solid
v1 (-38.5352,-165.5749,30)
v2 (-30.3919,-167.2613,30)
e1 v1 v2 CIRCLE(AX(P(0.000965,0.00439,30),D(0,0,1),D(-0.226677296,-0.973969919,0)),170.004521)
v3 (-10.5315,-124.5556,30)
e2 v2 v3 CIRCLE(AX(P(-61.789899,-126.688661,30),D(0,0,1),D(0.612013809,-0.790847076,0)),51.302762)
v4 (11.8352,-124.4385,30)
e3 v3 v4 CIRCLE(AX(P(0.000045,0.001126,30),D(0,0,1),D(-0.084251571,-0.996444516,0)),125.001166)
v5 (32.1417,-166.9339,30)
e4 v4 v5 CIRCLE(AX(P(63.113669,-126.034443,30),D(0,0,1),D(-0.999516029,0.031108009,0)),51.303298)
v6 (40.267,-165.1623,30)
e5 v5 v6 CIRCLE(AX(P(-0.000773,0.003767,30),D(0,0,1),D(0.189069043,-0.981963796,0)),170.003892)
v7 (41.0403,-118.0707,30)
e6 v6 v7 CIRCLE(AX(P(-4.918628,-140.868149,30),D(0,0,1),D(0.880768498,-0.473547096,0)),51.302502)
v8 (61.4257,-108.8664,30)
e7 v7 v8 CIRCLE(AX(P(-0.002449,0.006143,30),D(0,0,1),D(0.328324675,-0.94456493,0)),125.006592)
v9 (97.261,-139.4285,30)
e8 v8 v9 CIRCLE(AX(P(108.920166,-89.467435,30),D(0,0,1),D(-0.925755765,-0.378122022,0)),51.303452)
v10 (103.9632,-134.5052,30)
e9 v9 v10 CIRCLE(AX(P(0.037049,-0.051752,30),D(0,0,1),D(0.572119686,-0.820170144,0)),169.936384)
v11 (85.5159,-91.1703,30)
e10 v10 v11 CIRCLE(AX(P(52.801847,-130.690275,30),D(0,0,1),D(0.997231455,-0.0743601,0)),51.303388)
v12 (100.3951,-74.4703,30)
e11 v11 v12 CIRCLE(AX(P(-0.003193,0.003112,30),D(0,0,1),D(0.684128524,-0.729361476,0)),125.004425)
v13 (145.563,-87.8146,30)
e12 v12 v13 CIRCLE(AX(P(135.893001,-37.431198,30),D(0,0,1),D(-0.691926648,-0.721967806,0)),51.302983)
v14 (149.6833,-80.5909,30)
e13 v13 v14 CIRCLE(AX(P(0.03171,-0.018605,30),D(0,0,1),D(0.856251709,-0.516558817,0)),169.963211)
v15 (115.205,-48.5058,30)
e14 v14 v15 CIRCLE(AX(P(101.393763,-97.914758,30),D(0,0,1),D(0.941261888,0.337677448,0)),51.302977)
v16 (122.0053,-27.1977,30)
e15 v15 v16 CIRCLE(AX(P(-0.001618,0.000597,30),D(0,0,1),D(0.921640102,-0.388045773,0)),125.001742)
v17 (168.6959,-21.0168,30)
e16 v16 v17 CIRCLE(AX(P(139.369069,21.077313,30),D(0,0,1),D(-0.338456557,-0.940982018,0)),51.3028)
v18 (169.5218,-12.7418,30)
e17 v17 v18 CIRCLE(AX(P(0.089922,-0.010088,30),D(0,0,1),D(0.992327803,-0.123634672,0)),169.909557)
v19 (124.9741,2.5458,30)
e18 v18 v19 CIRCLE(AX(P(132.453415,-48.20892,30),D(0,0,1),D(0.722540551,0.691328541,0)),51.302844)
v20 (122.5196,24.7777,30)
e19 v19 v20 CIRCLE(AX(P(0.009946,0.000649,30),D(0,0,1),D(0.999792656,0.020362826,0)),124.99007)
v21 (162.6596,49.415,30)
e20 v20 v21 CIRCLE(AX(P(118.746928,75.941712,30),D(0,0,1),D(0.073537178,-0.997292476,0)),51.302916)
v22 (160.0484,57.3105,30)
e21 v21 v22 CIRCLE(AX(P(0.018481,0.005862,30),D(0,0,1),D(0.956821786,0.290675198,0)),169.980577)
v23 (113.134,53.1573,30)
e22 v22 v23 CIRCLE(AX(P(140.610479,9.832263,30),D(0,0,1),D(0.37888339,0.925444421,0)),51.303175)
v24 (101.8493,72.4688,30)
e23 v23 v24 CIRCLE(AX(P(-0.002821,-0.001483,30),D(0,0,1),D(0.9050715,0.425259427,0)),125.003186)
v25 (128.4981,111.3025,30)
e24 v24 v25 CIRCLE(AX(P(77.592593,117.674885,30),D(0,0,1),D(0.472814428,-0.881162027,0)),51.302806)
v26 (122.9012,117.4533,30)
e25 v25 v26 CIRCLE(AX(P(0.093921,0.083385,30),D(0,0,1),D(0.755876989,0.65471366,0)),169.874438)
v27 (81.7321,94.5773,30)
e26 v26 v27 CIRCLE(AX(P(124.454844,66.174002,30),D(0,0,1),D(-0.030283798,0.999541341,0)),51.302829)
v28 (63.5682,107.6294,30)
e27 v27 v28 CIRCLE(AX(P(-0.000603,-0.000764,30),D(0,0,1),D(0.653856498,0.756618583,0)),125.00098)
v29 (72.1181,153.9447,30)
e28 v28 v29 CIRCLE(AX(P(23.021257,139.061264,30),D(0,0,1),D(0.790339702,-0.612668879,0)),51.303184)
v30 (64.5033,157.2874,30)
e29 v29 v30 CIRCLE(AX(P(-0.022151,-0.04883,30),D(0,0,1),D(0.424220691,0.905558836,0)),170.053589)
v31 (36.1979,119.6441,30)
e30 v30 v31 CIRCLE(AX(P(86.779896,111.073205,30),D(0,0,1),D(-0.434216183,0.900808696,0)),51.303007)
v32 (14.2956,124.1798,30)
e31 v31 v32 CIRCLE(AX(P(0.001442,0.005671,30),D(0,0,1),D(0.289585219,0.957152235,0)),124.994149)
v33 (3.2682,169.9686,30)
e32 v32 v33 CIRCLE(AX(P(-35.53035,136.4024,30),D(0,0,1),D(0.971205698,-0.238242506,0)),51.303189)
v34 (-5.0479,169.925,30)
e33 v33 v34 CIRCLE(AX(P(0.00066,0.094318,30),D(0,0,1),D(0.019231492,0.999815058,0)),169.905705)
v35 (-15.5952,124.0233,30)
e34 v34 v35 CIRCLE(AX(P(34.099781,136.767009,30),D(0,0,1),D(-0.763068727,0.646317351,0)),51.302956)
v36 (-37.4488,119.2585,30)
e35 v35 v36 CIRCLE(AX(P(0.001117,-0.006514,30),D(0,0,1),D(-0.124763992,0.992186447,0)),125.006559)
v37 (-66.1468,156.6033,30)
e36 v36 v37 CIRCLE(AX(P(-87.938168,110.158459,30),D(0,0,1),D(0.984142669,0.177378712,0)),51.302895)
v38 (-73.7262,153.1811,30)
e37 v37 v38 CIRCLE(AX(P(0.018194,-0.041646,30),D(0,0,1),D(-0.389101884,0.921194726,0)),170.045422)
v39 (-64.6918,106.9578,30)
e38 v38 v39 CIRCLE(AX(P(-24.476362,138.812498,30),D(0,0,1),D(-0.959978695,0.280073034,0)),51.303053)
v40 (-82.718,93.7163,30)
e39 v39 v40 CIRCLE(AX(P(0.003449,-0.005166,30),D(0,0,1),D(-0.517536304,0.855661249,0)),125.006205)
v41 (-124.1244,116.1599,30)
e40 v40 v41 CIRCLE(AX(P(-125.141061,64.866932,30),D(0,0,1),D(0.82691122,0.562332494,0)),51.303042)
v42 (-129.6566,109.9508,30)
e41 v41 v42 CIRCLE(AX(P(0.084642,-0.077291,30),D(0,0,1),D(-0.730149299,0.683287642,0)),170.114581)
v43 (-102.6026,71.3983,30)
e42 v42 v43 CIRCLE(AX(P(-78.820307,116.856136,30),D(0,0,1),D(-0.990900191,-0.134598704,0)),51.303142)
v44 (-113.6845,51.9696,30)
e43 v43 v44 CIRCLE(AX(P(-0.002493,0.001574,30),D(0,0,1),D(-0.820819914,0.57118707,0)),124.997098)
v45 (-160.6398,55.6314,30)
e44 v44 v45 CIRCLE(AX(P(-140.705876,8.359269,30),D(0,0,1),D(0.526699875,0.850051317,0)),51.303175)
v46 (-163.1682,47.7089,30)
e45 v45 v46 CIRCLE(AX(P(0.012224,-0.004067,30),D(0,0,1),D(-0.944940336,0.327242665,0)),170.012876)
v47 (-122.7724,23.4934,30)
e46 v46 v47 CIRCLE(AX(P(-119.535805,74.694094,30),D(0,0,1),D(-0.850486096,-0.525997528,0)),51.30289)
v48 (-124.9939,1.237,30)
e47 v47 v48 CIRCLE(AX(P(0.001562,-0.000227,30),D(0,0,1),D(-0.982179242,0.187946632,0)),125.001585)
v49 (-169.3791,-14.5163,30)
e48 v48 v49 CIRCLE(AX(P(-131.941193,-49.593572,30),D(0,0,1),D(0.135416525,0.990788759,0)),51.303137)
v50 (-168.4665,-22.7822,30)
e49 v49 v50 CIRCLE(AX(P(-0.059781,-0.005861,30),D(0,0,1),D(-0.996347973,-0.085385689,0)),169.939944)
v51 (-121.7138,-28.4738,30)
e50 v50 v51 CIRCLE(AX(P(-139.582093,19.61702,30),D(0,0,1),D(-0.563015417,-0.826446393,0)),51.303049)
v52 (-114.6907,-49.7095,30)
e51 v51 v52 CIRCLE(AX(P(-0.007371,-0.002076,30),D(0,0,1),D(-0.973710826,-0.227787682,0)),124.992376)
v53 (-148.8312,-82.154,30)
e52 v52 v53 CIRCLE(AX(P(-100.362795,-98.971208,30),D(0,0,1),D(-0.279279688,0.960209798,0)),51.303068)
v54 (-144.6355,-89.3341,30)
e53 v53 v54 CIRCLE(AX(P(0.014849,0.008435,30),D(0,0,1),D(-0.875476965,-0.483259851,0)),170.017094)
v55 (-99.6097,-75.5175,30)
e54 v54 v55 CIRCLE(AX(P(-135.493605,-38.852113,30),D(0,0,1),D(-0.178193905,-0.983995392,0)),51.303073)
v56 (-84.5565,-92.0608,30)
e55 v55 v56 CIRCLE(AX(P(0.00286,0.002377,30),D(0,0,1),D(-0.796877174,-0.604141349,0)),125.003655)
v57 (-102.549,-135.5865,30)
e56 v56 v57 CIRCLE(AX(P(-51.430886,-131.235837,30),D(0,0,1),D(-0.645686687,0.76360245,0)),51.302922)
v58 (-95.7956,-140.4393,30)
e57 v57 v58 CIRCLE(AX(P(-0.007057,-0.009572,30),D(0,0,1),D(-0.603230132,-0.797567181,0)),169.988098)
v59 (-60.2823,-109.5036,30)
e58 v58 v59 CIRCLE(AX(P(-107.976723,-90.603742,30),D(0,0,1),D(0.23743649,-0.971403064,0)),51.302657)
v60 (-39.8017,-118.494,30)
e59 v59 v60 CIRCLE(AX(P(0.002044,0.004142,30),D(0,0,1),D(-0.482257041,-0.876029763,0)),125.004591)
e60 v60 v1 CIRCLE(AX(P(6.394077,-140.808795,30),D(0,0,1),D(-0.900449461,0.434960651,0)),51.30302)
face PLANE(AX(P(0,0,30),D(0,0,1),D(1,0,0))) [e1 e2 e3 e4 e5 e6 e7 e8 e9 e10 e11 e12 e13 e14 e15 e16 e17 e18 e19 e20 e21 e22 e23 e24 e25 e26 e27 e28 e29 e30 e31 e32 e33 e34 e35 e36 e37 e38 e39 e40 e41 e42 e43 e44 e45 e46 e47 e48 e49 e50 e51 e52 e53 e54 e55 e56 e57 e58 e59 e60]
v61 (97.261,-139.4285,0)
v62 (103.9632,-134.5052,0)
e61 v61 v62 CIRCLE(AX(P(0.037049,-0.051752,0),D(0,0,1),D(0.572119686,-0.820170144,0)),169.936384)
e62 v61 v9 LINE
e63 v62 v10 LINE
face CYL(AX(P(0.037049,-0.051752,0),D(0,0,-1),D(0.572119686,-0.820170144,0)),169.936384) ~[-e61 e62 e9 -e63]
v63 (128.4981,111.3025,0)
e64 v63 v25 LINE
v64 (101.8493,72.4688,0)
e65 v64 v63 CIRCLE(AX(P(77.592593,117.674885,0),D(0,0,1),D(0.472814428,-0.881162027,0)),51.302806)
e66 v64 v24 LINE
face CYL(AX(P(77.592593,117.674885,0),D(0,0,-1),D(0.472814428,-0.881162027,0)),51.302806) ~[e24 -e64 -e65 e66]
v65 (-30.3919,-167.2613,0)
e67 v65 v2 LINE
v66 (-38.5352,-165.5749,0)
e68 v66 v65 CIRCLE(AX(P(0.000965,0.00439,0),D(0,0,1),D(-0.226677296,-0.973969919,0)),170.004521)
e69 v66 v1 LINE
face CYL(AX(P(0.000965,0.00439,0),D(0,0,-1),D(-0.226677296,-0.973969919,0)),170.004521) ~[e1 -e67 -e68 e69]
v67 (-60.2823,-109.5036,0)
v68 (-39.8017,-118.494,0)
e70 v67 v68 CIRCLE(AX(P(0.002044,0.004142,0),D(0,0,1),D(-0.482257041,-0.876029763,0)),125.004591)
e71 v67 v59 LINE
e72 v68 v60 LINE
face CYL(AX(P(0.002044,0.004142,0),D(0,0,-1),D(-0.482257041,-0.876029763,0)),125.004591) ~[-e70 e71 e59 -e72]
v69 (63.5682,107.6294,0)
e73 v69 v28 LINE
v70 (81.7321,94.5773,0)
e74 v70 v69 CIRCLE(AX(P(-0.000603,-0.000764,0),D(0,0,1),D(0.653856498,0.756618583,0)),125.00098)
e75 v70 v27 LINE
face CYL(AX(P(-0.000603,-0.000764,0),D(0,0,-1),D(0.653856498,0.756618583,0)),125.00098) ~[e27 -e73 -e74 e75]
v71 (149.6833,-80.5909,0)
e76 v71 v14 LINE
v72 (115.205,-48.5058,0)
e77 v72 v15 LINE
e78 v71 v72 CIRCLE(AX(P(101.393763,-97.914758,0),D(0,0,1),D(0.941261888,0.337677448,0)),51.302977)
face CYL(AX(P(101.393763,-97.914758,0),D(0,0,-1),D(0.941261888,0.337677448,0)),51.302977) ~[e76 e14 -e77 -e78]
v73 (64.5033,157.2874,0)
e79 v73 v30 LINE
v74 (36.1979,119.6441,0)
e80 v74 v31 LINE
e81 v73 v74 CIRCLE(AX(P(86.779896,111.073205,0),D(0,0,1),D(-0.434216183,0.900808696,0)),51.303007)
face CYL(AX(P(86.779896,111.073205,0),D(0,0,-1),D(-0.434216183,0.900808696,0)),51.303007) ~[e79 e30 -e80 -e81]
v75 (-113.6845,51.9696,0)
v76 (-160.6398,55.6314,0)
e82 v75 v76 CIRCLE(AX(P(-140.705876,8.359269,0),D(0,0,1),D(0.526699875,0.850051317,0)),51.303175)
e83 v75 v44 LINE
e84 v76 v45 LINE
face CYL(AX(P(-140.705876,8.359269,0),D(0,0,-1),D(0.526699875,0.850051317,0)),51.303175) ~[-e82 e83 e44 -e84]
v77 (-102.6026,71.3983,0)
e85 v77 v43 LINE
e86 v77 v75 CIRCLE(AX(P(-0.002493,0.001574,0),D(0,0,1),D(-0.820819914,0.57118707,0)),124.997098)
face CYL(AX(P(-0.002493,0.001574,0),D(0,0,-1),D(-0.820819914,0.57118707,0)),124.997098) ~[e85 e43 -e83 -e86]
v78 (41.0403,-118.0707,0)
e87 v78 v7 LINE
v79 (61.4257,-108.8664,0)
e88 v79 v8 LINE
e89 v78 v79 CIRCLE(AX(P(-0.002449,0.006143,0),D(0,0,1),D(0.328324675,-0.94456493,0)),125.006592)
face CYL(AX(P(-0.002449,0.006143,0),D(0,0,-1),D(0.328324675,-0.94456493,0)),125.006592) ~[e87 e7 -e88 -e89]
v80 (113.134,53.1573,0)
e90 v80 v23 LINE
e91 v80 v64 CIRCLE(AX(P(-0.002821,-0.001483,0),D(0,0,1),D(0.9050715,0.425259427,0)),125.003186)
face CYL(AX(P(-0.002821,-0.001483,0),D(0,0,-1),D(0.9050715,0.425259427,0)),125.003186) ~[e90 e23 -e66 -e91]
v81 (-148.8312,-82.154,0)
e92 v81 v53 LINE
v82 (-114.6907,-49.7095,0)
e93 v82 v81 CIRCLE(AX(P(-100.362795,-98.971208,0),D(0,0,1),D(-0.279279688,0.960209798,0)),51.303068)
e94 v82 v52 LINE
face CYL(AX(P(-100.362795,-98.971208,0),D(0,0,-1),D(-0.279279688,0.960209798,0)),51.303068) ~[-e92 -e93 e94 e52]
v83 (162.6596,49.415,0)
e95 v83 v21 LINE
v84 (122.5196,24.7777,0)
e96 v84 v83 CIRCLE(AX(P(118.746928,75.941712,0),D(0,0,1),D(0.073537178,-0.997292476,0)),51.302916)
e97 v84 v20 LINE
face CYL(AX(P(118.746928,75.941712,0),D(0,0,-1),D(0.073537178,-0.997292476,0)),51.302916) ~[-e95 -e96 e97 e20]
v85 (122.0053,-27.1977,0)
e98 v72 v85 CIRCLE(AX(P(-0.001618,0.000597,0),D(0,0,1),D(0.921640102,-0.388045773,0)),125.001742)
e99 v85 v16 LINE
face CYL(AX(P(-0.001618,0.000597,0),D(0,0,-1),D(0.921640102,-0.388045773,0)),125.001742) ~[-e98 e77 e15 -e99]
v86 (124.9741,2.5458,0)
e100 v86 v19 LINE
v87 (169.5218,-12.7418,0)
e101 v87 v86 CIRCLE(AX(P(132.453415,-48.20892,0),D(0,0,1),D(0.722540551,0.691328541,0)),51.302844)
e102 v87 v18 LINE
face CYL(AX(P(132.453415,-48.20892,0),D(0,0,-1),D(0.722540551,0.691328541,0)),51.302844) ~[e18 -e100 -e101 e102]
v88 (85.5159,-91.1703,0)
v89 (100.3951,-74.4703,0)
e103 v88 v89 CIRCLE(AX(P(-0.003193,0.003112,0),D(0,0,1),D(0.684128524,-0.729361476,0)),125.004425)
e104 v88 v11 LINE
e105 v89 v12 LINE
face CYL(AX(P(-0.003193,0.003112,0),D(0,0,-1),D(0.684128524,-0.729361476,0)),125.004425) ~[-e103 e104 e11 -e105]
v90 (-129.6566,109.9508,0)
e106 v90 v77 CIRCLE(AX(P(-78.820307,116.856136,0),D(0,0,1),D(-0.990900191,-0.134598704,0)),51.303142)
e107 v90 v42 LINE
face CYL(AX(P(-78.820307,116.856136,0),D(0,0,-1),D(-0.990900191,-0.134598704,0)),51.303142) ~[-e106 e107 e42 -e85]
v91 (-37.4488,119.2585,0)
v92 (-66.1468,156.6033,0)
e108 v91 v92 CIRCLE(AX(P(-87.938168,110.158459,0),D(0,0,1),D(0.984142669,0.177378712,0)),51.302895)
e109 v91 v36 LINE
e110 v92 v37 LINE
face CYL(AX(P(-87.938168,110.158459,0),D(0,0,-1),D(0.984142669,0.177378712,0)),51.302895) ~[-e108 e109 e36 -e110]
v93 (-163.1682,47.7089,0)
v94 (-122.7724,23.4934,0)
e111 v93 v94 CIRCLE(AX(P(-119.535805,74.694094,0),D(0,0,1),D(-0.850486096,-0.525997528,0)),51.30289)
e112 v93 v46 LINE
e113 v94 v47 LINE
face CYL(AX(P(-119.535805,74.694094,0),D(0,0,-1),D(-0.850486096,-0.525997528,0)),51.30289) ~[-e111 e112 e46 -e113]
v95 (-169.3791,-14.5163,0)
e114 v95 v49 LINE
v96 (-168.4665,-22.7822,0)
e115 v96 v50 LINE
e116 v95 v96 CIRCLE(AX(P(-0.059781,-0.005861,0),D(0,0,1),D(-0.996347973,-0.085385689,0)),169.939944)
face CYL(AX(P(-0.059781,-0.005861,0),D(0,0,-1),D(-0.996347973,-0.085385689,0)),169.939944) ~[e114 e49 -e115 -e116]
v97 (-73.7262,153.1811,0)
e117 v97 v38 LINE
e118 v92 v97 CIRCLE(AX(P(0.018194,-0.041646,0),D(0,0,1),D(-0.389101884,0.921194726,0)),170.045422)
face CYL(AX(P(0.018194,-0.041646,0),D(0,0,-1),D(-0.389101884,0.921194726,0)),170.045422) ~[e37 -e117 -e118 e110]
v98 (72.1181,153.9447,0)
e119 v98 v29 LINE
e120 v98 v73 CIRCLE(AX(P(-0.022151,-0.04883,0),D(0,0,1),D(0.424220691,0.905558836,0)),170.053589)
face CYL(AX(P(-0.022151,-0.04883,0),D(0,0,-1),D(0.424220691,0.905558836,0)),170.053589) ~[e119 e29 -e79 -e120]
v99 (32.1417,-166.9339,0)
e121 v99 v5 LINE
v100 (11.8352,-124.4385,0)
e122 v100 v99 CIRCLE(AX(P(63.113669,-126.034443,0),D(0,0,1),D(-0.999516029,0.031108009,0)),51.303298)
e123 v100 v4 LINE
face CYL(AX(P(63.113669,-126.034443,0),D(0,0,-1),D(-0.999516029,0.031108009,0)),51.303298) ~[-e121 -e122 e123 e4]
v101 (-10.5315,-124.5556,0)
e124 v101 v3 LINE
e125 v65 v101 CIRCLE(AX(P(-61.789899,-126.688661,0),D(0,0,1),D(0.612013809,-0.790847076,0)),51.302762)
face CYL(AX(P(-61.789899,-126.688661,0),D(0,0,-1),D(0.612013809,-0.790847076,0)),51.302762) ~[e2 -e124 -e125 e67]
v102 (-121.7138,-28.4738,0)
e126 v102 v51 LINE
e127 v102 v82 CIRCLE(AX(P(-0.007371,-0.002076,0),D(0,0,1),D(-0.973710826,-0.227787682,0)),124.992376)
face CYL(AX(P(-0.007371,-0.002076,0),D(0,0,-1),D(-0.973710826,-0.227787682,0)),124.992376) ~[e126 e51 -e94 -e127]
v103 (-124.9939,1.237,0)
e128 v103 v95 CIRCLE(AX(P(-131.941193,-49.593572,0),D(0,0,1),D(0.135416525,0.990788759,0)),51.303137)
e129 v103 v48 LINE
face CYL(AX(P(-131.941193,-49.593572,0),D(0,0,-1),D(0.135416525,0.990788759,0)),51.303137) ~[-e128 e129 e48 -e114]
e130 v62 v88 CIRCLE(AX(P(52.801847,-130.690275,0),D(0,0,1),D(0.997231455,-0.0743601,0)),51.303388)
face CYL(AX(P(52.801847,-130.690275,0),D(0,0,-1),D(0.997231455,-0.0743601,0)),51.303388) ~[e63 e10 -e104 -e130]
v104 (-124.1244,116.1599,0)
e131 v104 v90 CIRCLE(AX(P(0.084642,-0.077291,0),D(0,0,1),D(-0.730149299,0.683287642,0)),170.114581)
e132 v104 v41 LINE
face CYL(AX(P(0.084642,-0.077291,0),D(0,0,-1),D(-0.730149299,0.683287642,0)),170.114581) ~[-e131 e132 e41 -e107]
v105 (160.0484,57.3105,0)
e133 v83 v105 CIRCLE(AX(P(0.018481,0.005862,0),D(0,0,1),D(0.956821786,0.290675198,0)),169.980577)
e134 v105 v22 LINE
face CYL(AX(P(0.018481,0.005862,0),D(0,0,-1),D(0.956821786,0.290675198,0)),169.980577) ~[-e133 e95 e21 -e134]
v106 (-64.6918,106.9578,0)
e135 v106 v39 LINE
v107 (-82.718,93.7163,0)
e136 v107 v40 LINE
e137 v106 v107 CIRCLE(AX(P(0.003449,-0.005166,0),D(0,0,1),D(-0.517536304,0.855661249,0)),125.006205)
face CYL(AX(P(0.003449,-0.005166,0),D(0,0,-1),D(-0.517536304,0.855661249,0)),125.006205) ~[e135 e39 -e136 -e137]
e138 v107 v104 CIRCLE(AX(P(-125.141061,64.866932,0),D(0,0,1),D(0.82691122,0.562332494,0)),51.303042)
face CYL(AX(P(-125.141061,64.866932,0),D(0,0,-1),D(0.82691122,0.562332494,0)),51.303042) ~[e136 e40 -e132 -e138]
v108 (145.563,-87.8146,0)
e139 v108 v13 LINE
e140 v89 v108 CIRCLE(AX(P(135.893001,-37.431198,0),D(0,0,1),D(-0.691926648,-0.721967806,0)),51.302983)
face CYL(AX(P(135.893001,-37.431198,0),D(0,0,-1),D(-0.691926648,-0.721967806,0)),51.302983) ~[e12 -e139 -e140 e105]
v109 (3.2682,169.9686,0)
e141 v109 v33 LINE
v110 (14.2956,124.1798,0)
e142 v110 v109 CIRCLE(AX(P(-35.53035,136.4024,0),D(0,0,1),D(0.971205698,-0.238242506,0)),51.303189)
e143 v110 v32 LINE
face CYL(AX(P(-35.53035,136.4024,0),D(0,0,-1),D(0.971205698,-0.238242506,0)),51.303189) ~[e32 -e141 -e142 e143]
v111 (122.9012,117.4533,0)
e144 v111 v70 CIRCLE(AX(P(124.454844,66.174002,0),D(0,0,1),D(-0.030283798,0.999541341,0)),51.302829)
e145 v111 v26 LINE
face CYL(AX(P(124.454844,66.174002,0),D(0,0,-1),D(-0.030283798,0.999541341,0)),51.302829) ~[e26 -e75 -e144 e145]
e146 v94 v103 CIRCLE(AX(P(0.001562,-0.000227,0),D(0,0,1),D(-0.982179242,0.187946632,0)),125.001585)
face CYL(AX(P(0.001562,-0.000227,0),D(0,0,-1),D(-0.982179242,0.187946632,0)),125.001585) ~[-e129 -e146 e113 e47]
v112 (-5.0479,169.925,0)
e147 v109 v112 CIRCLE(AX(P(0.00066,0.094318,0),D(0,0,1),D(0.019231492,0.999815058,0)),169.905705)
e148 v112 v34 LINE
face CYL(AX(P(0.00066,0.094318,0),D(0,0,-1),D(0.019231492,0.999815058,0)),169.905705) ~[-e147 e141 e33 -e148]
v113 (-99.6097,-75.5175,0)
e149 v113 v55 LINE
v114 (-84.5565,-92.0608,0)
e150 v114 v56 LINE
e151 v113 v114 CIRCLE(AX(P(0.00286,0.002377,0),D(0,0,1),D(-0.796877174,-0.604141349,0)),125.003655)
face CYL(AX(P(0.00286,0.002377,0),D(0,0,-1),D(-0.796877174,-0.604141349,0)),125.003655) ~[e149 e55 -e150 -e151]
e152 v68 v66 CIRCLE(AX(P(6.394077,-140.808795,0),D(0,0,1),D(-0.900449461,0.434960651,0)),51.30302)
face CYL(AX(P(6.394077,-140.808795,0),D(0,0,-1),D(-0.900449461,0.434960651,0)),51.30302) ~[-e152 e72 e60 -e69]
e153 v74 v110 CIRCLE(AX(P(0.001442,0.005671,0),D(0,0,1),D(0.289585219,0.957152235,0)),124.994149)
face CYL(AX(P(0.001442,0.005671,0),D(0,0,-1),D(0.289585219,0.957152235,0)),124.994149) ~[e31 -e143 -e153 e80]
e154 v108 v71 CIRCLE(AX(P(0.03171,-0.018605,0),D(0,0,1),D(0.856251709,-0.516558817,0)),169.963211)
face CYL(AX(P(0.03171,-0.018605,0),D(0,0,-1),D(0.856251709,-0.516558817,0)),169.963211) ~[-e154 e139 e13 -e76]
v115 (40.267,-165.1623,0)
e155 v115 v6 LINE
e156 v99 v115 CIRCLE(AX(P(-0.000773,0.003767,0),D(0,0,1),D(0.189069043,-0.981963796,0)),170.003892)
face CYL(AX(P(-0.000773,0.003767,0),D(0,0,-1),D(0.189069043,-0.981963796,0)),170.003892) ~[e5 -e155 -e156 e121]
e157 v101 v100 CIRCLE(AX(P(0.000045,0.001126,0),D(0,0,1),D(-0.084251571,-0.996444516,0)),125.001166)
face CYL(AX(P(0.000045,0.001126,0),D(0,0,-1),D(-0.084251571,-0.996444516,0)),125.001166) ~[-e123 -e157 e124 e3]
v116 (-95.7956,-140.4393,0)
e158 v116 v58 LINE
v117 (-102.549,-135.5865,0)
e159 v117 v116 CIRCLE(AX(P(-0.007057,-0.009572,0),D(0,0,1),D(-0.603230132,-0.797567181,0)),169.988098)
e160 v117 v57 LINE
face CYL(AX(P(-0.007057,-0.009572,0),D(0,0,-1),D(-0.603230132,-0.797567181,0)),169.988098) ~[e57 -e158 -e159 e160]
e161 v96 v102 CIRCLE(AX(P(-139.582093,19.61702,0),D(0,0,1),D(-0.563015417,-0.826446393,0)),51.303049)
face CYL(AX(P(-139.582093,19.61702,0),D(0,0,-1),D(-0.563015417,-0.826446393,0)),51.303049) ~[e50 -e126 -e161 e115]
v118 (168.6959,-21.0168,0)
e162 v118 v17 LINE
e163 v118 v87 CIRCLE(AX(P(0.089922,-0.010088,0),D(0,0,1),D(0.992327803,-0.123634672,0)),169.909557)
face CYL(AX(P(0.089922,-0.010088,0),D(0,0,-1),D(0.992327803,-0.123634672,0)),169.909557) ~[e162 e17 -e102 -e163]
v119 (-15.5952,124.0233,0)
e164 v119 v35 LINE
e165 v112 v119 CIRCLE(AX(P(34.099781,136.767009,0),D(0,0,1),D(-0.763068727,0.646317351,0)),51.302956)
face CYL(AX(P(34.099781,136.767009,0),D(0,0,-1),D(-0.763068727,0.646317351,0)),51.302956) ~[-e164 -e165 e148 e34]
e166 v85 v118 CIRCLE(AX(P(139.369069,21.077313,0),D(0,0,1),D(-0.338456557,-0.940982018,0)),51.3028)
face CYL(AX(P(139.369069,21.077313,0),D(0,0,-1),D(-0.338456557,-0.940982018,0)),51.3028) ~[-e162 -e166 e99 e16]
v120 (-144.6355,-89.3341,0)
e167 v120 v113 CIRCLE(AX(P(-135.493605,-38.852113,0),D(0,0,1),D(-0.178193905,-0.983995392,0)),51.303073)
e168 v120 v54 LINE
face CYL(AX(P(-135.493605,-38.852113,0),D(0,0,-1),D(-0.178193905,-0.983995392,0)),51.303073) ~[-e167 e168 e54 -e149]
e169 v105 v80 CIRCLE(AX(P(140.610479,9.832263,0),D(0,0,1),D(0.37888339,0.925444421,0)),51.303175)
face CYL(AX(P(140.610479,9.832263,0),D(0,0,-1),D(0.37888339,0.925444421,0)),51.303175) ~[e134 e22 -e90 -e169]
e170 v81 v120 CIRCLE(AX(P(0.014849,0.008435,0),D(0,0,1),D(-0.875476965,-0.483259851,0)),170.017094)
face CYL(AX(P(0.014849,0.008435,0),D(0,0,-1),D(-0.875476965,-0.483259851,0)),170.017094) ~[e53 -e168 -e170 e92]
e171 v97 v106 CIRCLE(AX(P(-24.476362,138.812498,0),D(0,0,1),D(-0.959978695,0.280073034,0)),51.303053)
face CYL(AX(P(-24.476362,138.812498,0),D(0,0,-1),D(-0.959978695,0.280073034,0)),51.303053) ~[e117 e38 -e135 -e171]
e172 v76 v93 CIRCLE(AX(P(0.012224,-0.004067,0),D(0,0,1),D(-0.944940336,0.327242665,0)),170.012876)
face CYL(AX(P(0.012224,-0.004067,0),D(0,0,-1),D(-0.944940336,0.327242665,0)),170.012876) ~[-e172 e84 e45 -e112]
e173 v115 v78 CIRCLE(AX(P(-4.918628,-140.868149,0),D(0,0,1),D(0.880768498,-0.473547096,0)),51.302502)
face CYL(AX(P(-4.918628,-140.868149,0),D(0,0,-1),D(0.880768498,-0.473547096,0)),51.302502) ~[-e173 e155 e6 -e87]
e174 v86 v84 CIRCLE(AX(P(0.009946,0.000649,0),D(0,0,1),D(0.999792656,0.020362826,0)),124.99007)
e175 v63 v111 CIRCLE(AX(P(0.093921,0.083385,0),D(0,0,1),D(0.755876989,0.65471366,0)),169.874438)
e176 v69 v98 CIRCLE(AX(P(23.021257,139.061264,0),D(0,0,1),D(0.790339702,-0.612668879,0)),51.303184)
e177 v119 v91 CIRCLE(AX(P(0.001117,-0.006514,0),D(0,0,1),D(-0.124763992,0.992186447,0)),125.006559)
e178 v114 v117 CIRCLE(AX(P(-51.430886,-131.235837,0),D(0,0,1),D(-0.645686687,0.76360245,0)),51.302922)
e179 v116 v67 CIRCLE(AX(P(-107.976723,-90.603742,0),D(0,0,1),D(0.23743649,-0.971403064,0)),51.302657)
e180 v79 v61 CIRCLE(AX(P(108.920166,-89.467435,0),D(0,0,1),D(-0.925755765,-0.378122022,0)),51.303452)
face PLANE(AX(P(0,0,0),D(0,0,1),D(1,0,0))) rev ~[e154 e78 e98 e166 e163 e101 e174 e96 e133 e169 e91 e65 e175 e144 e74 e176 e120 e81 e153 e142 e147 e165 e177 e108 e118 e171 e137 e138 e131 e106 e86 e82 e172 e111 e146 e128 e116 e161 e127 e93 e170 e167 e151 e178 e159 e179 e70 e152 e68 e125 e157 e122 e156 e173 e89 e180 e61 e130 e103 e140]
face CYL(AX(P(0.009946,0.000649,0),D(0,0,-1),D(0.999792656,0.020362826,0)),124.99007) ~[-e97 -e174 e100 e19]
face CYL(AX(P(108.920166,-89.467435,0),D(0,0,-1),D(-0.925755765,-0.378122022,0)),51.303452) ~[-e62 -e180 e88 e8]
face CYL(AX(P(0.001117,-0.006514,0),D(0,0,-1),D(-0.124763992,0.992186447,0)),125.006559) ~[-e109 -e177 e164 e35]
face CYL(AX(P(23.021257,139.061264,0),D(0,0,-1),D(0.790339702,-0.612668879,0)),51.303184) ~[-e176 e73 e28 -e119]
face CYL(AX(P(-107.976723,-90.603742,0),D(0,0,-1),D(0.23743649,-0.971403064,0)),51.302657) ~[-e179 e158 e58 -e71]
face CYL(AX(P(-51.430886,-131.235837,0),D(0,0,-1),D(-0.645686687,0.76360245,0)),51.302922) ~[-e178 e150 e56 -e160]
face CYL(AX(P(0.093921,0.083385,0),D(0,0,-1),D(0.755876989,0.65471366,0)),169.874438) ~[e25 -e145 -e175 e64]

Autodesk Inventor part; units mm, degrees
ref_plane "YZ Plane" through (0, 0, 0) normal (1, 0, 0) x (0, 1, 0)
ref_plane "XZ Plane" through (0, 0, 0) normal (0, 1, 0) x (-1, 0, 0)
ref_plane "XY Plane" through (0, 0, 0) normal (0, 0, 1) x (1, 0, 0)
sketch "Boceto1" plane through (0, 0, 0) normal (0, 0, 1) x (1, 0, 0)
  arc A0 (168.6959, -21.0168) -> (169.5218, -12.7418) centre (0, 0) ccw
  arc A1 (169.5218, -12.7418) -> (124.9741, 2.5458) centre (132.4533, -48.2091) ccw
  arc A2 (122.0053, -27.1977) -> (168.6959, -21.0168) centre (139.3691, 21.0776) ccw
  arc A3 (162.6596, 49.415) -> (160.0484, 57.3105) centre (0, 0) ccw
  arc A4 (160.0484, 57.3105) -> (113.134, 53.1573) centre (140.6105, 9.8324) ccw
  arc A5 (122.5196, 24.7777) -> (162.6596, 49.415) centre (118.7469, 75.9418) ccw
  arc A6 (128.4981, 111.3025) -> (122.9012, 117.4533) centre (0, 0) ccw
  arc A7 (122.9012, 117.4533) -> (81.7321, 94.5773) centre (124.4549, 66.1738) ccw
  arc A8 (101.8493, 72.4688) -> (128.4981, 111.3025) centre (77.5924, 117.6751) ccw
  arc A9 (72.1181, 153.9447) -> (64.5033, 157.2874) centre (0, 0) ccw
  arc A10 (64.5033, 157.2874) -> (36.1979, 119.6441) centre (86.7799, 111.0732) ccw
  arc A11 (63.5682, 107.6294) -> (72.1181, 153.9447) centre (23.0214, 139.0612) ccw
  arc A12 (3.2682, 169.9686) -> (-5.0479, 169.925) centre (0, 0) ccw
  arc A13 (-5.0479, 169.925) -> (-15.5952, 124.0233) centre (34.0998, 136.767) ccw
  arc A14 (14.2956, 124.1798) -> (3.2682, 169.9686) centre (-35.5302, 136.4024) ccw
  arc A15 (-66.1468, 156.6033) -> (-73.7262, 153.1811) centre (0, 0) ccw
  arc A16 (-73.7262, 153.1811) -> (-64.6918, 106.9578) centre (-24.4764, 138.8125) ccw
  arc A17 (-37.4488, 119.2585) -> (-66.1468, 156.6033) centre (-87.9383, 110.1584) ccw
  arc A18 (-124.1244, 116.1599) -> (-129.6566, 109.9508) centre (0, 0) ccw
  arc A19 (-129.6566, 109.9508) -> (-102.6026, 71.3983) centre (-78.8204, 116.8561) ccw
  arc A20 (-82.718, 93.7163) -> (-124.1244, 116.1599) centre (-125.141, 64.867) ccw
  arc A21 (-160.6398, 55.6314) -> (-163.1682, 47.7089) centre (0, 0) ccw
  arc A22 (-163.1682, 47.7089) -> (-122.7724, 23.4934) centre (-119.5357, 74.6942) ccw
  arc A23 (-113.6845, 51.9696) -> (-160.6398, 55.6314) centre (-140.7058, 8.3595) ccw
  arc A24 (-169.3791, -14.5163) -> (-168.4665, -22.7822) centre (0, 0) ccw
  arc A25 (-168.4665, -22.7822) -> (-121.7138, -28.4738) centre (-139.5821, 19.617) ccw
  arc A26 (-124.9939, 1.237) -> (-169.3791, -14.5163) centre (-131.9412, -49.5935) ccw
  arc A27 (-148.8312, -82.154) -> (-144.6355, -89.3341) centre (0, 0) ccw
  arc A28 (-144.6355, -89.3341) -> (-99.6097, -75.5175) centre (-135.4936, -38.8522) ccw
  arc A29 (-114.6907, -49.7095) -> (-148.8312, -82.154) centre (-100.3628, -98.9712) ccw
  arc A30 (-102.549, -135.5865) -> (-95.7956, -140.4393) centre (0, 0) ccw
  arc A31 (-95.7956, -140.4393) -> (-60.2823, -109.5036) centre (-107.9769, -90.6034) ccw
  arc A32 (-84.5565, -92.0608) -> (-102.549, -135.5865) centre (-51.4308, -131.2359) ccw
  arc A33 (-38.5352, -165.5749) -> (-30.3919, -167.2613) centre (0, 0) ccw
  arc A34 (-30.3919, -167.2613) -> (-10.5315, -124.5556) centre (-61.7901, -126.6885) ccw
  arc A35 (-39.8017, -118.494) -> (-38.5352, -165.5749) centre (6.3941, -140.8088) ccw
  arc A36 (32.1417, -166.9339) -> (40.267, -165.1623) centre (0, 0) ccw
  arc A37 (40.267, -165.1623) -> (41.0403, -118.0707) centre (-4.9192, -140.868) ccw
  arc A38 (11.8352, -124.4385) -> (32.1417, -166.9339) centre (63.1134, -126.0345) ccw
  arc A39 (97.261, -139.4285) -> (103.9632, -134.5052) centre (0, 0) ccw
  arc A40 (103.9632, -134.5052) -> (85.5159, -91.1703) centre (52.8023, -130.6902) ccw
  arc A41 (61.4257, -108.8664) -> (97.261, -139.4285) centre (108.9198, -89.4677) ccw
  arc A42 (145.563, -87.8146) -> (149.6833, -80.5909) centre (0, 0) ccw
  arc A43 (149.6833, -80.5909) -> (115.205, -48.5058) centre (101.3937, -97.9148) ccw
  arc A44 (100.3951, -74.4703) -> (145.563, -87.8146) centre (135.893, -37.4312) ccw
  arc A45 (113.134, 53.1573) -> (101.8493, 72.4688) centre (0, 0) ccw
  arc A46 (124.9741, 2.5458) -> (122.5196, 24.7777) centre (0, 0) ccw
  arc A47 (115.205, -48.5058) -> (122.0053, -27.1977) centre (0, 0) ccw
  arc A48 (85.5159, -91.1703) -> (100.3951, -74.4703) centre (0, 0) ccw
  arc A49 (41.0403, -118.0707) -> (61.4257, -108.8664) centre (0, 0) ccw
  arc A50 (-10.5315, -124.5556) -> (11.8352, -124.4385) centre (0, 0) ccw
  arc A51 (-60.2823, -109.5036) -> (-39.8017, -118.494) centre (0, 0) ccw
  arc A52 (-99.6097, -75.5175) -> (-84.5565, -92.0608) centre (0, 0) ccw
  arc A53 (-121.7138, -28.4738) -> (-114.6907, -49.7095) centre (0, 0) ccw
  arc A54 (-122.7724, 23.4934) -> (-124.9939, 1.237) centre (0, 0) ccw
  arc A55 (-102.6026, 71.3983) -> (-113.6845, 51.9696) centre (0, 0) ccw
  arc A56 (-64.6918, 106.9578) -> (-82.718, 93.7163) centre (0, 0) ccw
  arc A57 (-15.5952, 124.0233) -> (-37.4488, 119.2585) centre (0, 0) ccw
  arc A58 (81.7321, 94.5773) -> (63.5682, 107.6294) centre (0, 0) ccw
  arc A59 (36.1979, 119.6441) -> (14.2956, 124.1798) centre (0, 0) ccw
  dimension "d8" = 360
extrude "Extrusión1" add sketch "Boceto1" along normal blind 30
properties part number "15P_Recto"
